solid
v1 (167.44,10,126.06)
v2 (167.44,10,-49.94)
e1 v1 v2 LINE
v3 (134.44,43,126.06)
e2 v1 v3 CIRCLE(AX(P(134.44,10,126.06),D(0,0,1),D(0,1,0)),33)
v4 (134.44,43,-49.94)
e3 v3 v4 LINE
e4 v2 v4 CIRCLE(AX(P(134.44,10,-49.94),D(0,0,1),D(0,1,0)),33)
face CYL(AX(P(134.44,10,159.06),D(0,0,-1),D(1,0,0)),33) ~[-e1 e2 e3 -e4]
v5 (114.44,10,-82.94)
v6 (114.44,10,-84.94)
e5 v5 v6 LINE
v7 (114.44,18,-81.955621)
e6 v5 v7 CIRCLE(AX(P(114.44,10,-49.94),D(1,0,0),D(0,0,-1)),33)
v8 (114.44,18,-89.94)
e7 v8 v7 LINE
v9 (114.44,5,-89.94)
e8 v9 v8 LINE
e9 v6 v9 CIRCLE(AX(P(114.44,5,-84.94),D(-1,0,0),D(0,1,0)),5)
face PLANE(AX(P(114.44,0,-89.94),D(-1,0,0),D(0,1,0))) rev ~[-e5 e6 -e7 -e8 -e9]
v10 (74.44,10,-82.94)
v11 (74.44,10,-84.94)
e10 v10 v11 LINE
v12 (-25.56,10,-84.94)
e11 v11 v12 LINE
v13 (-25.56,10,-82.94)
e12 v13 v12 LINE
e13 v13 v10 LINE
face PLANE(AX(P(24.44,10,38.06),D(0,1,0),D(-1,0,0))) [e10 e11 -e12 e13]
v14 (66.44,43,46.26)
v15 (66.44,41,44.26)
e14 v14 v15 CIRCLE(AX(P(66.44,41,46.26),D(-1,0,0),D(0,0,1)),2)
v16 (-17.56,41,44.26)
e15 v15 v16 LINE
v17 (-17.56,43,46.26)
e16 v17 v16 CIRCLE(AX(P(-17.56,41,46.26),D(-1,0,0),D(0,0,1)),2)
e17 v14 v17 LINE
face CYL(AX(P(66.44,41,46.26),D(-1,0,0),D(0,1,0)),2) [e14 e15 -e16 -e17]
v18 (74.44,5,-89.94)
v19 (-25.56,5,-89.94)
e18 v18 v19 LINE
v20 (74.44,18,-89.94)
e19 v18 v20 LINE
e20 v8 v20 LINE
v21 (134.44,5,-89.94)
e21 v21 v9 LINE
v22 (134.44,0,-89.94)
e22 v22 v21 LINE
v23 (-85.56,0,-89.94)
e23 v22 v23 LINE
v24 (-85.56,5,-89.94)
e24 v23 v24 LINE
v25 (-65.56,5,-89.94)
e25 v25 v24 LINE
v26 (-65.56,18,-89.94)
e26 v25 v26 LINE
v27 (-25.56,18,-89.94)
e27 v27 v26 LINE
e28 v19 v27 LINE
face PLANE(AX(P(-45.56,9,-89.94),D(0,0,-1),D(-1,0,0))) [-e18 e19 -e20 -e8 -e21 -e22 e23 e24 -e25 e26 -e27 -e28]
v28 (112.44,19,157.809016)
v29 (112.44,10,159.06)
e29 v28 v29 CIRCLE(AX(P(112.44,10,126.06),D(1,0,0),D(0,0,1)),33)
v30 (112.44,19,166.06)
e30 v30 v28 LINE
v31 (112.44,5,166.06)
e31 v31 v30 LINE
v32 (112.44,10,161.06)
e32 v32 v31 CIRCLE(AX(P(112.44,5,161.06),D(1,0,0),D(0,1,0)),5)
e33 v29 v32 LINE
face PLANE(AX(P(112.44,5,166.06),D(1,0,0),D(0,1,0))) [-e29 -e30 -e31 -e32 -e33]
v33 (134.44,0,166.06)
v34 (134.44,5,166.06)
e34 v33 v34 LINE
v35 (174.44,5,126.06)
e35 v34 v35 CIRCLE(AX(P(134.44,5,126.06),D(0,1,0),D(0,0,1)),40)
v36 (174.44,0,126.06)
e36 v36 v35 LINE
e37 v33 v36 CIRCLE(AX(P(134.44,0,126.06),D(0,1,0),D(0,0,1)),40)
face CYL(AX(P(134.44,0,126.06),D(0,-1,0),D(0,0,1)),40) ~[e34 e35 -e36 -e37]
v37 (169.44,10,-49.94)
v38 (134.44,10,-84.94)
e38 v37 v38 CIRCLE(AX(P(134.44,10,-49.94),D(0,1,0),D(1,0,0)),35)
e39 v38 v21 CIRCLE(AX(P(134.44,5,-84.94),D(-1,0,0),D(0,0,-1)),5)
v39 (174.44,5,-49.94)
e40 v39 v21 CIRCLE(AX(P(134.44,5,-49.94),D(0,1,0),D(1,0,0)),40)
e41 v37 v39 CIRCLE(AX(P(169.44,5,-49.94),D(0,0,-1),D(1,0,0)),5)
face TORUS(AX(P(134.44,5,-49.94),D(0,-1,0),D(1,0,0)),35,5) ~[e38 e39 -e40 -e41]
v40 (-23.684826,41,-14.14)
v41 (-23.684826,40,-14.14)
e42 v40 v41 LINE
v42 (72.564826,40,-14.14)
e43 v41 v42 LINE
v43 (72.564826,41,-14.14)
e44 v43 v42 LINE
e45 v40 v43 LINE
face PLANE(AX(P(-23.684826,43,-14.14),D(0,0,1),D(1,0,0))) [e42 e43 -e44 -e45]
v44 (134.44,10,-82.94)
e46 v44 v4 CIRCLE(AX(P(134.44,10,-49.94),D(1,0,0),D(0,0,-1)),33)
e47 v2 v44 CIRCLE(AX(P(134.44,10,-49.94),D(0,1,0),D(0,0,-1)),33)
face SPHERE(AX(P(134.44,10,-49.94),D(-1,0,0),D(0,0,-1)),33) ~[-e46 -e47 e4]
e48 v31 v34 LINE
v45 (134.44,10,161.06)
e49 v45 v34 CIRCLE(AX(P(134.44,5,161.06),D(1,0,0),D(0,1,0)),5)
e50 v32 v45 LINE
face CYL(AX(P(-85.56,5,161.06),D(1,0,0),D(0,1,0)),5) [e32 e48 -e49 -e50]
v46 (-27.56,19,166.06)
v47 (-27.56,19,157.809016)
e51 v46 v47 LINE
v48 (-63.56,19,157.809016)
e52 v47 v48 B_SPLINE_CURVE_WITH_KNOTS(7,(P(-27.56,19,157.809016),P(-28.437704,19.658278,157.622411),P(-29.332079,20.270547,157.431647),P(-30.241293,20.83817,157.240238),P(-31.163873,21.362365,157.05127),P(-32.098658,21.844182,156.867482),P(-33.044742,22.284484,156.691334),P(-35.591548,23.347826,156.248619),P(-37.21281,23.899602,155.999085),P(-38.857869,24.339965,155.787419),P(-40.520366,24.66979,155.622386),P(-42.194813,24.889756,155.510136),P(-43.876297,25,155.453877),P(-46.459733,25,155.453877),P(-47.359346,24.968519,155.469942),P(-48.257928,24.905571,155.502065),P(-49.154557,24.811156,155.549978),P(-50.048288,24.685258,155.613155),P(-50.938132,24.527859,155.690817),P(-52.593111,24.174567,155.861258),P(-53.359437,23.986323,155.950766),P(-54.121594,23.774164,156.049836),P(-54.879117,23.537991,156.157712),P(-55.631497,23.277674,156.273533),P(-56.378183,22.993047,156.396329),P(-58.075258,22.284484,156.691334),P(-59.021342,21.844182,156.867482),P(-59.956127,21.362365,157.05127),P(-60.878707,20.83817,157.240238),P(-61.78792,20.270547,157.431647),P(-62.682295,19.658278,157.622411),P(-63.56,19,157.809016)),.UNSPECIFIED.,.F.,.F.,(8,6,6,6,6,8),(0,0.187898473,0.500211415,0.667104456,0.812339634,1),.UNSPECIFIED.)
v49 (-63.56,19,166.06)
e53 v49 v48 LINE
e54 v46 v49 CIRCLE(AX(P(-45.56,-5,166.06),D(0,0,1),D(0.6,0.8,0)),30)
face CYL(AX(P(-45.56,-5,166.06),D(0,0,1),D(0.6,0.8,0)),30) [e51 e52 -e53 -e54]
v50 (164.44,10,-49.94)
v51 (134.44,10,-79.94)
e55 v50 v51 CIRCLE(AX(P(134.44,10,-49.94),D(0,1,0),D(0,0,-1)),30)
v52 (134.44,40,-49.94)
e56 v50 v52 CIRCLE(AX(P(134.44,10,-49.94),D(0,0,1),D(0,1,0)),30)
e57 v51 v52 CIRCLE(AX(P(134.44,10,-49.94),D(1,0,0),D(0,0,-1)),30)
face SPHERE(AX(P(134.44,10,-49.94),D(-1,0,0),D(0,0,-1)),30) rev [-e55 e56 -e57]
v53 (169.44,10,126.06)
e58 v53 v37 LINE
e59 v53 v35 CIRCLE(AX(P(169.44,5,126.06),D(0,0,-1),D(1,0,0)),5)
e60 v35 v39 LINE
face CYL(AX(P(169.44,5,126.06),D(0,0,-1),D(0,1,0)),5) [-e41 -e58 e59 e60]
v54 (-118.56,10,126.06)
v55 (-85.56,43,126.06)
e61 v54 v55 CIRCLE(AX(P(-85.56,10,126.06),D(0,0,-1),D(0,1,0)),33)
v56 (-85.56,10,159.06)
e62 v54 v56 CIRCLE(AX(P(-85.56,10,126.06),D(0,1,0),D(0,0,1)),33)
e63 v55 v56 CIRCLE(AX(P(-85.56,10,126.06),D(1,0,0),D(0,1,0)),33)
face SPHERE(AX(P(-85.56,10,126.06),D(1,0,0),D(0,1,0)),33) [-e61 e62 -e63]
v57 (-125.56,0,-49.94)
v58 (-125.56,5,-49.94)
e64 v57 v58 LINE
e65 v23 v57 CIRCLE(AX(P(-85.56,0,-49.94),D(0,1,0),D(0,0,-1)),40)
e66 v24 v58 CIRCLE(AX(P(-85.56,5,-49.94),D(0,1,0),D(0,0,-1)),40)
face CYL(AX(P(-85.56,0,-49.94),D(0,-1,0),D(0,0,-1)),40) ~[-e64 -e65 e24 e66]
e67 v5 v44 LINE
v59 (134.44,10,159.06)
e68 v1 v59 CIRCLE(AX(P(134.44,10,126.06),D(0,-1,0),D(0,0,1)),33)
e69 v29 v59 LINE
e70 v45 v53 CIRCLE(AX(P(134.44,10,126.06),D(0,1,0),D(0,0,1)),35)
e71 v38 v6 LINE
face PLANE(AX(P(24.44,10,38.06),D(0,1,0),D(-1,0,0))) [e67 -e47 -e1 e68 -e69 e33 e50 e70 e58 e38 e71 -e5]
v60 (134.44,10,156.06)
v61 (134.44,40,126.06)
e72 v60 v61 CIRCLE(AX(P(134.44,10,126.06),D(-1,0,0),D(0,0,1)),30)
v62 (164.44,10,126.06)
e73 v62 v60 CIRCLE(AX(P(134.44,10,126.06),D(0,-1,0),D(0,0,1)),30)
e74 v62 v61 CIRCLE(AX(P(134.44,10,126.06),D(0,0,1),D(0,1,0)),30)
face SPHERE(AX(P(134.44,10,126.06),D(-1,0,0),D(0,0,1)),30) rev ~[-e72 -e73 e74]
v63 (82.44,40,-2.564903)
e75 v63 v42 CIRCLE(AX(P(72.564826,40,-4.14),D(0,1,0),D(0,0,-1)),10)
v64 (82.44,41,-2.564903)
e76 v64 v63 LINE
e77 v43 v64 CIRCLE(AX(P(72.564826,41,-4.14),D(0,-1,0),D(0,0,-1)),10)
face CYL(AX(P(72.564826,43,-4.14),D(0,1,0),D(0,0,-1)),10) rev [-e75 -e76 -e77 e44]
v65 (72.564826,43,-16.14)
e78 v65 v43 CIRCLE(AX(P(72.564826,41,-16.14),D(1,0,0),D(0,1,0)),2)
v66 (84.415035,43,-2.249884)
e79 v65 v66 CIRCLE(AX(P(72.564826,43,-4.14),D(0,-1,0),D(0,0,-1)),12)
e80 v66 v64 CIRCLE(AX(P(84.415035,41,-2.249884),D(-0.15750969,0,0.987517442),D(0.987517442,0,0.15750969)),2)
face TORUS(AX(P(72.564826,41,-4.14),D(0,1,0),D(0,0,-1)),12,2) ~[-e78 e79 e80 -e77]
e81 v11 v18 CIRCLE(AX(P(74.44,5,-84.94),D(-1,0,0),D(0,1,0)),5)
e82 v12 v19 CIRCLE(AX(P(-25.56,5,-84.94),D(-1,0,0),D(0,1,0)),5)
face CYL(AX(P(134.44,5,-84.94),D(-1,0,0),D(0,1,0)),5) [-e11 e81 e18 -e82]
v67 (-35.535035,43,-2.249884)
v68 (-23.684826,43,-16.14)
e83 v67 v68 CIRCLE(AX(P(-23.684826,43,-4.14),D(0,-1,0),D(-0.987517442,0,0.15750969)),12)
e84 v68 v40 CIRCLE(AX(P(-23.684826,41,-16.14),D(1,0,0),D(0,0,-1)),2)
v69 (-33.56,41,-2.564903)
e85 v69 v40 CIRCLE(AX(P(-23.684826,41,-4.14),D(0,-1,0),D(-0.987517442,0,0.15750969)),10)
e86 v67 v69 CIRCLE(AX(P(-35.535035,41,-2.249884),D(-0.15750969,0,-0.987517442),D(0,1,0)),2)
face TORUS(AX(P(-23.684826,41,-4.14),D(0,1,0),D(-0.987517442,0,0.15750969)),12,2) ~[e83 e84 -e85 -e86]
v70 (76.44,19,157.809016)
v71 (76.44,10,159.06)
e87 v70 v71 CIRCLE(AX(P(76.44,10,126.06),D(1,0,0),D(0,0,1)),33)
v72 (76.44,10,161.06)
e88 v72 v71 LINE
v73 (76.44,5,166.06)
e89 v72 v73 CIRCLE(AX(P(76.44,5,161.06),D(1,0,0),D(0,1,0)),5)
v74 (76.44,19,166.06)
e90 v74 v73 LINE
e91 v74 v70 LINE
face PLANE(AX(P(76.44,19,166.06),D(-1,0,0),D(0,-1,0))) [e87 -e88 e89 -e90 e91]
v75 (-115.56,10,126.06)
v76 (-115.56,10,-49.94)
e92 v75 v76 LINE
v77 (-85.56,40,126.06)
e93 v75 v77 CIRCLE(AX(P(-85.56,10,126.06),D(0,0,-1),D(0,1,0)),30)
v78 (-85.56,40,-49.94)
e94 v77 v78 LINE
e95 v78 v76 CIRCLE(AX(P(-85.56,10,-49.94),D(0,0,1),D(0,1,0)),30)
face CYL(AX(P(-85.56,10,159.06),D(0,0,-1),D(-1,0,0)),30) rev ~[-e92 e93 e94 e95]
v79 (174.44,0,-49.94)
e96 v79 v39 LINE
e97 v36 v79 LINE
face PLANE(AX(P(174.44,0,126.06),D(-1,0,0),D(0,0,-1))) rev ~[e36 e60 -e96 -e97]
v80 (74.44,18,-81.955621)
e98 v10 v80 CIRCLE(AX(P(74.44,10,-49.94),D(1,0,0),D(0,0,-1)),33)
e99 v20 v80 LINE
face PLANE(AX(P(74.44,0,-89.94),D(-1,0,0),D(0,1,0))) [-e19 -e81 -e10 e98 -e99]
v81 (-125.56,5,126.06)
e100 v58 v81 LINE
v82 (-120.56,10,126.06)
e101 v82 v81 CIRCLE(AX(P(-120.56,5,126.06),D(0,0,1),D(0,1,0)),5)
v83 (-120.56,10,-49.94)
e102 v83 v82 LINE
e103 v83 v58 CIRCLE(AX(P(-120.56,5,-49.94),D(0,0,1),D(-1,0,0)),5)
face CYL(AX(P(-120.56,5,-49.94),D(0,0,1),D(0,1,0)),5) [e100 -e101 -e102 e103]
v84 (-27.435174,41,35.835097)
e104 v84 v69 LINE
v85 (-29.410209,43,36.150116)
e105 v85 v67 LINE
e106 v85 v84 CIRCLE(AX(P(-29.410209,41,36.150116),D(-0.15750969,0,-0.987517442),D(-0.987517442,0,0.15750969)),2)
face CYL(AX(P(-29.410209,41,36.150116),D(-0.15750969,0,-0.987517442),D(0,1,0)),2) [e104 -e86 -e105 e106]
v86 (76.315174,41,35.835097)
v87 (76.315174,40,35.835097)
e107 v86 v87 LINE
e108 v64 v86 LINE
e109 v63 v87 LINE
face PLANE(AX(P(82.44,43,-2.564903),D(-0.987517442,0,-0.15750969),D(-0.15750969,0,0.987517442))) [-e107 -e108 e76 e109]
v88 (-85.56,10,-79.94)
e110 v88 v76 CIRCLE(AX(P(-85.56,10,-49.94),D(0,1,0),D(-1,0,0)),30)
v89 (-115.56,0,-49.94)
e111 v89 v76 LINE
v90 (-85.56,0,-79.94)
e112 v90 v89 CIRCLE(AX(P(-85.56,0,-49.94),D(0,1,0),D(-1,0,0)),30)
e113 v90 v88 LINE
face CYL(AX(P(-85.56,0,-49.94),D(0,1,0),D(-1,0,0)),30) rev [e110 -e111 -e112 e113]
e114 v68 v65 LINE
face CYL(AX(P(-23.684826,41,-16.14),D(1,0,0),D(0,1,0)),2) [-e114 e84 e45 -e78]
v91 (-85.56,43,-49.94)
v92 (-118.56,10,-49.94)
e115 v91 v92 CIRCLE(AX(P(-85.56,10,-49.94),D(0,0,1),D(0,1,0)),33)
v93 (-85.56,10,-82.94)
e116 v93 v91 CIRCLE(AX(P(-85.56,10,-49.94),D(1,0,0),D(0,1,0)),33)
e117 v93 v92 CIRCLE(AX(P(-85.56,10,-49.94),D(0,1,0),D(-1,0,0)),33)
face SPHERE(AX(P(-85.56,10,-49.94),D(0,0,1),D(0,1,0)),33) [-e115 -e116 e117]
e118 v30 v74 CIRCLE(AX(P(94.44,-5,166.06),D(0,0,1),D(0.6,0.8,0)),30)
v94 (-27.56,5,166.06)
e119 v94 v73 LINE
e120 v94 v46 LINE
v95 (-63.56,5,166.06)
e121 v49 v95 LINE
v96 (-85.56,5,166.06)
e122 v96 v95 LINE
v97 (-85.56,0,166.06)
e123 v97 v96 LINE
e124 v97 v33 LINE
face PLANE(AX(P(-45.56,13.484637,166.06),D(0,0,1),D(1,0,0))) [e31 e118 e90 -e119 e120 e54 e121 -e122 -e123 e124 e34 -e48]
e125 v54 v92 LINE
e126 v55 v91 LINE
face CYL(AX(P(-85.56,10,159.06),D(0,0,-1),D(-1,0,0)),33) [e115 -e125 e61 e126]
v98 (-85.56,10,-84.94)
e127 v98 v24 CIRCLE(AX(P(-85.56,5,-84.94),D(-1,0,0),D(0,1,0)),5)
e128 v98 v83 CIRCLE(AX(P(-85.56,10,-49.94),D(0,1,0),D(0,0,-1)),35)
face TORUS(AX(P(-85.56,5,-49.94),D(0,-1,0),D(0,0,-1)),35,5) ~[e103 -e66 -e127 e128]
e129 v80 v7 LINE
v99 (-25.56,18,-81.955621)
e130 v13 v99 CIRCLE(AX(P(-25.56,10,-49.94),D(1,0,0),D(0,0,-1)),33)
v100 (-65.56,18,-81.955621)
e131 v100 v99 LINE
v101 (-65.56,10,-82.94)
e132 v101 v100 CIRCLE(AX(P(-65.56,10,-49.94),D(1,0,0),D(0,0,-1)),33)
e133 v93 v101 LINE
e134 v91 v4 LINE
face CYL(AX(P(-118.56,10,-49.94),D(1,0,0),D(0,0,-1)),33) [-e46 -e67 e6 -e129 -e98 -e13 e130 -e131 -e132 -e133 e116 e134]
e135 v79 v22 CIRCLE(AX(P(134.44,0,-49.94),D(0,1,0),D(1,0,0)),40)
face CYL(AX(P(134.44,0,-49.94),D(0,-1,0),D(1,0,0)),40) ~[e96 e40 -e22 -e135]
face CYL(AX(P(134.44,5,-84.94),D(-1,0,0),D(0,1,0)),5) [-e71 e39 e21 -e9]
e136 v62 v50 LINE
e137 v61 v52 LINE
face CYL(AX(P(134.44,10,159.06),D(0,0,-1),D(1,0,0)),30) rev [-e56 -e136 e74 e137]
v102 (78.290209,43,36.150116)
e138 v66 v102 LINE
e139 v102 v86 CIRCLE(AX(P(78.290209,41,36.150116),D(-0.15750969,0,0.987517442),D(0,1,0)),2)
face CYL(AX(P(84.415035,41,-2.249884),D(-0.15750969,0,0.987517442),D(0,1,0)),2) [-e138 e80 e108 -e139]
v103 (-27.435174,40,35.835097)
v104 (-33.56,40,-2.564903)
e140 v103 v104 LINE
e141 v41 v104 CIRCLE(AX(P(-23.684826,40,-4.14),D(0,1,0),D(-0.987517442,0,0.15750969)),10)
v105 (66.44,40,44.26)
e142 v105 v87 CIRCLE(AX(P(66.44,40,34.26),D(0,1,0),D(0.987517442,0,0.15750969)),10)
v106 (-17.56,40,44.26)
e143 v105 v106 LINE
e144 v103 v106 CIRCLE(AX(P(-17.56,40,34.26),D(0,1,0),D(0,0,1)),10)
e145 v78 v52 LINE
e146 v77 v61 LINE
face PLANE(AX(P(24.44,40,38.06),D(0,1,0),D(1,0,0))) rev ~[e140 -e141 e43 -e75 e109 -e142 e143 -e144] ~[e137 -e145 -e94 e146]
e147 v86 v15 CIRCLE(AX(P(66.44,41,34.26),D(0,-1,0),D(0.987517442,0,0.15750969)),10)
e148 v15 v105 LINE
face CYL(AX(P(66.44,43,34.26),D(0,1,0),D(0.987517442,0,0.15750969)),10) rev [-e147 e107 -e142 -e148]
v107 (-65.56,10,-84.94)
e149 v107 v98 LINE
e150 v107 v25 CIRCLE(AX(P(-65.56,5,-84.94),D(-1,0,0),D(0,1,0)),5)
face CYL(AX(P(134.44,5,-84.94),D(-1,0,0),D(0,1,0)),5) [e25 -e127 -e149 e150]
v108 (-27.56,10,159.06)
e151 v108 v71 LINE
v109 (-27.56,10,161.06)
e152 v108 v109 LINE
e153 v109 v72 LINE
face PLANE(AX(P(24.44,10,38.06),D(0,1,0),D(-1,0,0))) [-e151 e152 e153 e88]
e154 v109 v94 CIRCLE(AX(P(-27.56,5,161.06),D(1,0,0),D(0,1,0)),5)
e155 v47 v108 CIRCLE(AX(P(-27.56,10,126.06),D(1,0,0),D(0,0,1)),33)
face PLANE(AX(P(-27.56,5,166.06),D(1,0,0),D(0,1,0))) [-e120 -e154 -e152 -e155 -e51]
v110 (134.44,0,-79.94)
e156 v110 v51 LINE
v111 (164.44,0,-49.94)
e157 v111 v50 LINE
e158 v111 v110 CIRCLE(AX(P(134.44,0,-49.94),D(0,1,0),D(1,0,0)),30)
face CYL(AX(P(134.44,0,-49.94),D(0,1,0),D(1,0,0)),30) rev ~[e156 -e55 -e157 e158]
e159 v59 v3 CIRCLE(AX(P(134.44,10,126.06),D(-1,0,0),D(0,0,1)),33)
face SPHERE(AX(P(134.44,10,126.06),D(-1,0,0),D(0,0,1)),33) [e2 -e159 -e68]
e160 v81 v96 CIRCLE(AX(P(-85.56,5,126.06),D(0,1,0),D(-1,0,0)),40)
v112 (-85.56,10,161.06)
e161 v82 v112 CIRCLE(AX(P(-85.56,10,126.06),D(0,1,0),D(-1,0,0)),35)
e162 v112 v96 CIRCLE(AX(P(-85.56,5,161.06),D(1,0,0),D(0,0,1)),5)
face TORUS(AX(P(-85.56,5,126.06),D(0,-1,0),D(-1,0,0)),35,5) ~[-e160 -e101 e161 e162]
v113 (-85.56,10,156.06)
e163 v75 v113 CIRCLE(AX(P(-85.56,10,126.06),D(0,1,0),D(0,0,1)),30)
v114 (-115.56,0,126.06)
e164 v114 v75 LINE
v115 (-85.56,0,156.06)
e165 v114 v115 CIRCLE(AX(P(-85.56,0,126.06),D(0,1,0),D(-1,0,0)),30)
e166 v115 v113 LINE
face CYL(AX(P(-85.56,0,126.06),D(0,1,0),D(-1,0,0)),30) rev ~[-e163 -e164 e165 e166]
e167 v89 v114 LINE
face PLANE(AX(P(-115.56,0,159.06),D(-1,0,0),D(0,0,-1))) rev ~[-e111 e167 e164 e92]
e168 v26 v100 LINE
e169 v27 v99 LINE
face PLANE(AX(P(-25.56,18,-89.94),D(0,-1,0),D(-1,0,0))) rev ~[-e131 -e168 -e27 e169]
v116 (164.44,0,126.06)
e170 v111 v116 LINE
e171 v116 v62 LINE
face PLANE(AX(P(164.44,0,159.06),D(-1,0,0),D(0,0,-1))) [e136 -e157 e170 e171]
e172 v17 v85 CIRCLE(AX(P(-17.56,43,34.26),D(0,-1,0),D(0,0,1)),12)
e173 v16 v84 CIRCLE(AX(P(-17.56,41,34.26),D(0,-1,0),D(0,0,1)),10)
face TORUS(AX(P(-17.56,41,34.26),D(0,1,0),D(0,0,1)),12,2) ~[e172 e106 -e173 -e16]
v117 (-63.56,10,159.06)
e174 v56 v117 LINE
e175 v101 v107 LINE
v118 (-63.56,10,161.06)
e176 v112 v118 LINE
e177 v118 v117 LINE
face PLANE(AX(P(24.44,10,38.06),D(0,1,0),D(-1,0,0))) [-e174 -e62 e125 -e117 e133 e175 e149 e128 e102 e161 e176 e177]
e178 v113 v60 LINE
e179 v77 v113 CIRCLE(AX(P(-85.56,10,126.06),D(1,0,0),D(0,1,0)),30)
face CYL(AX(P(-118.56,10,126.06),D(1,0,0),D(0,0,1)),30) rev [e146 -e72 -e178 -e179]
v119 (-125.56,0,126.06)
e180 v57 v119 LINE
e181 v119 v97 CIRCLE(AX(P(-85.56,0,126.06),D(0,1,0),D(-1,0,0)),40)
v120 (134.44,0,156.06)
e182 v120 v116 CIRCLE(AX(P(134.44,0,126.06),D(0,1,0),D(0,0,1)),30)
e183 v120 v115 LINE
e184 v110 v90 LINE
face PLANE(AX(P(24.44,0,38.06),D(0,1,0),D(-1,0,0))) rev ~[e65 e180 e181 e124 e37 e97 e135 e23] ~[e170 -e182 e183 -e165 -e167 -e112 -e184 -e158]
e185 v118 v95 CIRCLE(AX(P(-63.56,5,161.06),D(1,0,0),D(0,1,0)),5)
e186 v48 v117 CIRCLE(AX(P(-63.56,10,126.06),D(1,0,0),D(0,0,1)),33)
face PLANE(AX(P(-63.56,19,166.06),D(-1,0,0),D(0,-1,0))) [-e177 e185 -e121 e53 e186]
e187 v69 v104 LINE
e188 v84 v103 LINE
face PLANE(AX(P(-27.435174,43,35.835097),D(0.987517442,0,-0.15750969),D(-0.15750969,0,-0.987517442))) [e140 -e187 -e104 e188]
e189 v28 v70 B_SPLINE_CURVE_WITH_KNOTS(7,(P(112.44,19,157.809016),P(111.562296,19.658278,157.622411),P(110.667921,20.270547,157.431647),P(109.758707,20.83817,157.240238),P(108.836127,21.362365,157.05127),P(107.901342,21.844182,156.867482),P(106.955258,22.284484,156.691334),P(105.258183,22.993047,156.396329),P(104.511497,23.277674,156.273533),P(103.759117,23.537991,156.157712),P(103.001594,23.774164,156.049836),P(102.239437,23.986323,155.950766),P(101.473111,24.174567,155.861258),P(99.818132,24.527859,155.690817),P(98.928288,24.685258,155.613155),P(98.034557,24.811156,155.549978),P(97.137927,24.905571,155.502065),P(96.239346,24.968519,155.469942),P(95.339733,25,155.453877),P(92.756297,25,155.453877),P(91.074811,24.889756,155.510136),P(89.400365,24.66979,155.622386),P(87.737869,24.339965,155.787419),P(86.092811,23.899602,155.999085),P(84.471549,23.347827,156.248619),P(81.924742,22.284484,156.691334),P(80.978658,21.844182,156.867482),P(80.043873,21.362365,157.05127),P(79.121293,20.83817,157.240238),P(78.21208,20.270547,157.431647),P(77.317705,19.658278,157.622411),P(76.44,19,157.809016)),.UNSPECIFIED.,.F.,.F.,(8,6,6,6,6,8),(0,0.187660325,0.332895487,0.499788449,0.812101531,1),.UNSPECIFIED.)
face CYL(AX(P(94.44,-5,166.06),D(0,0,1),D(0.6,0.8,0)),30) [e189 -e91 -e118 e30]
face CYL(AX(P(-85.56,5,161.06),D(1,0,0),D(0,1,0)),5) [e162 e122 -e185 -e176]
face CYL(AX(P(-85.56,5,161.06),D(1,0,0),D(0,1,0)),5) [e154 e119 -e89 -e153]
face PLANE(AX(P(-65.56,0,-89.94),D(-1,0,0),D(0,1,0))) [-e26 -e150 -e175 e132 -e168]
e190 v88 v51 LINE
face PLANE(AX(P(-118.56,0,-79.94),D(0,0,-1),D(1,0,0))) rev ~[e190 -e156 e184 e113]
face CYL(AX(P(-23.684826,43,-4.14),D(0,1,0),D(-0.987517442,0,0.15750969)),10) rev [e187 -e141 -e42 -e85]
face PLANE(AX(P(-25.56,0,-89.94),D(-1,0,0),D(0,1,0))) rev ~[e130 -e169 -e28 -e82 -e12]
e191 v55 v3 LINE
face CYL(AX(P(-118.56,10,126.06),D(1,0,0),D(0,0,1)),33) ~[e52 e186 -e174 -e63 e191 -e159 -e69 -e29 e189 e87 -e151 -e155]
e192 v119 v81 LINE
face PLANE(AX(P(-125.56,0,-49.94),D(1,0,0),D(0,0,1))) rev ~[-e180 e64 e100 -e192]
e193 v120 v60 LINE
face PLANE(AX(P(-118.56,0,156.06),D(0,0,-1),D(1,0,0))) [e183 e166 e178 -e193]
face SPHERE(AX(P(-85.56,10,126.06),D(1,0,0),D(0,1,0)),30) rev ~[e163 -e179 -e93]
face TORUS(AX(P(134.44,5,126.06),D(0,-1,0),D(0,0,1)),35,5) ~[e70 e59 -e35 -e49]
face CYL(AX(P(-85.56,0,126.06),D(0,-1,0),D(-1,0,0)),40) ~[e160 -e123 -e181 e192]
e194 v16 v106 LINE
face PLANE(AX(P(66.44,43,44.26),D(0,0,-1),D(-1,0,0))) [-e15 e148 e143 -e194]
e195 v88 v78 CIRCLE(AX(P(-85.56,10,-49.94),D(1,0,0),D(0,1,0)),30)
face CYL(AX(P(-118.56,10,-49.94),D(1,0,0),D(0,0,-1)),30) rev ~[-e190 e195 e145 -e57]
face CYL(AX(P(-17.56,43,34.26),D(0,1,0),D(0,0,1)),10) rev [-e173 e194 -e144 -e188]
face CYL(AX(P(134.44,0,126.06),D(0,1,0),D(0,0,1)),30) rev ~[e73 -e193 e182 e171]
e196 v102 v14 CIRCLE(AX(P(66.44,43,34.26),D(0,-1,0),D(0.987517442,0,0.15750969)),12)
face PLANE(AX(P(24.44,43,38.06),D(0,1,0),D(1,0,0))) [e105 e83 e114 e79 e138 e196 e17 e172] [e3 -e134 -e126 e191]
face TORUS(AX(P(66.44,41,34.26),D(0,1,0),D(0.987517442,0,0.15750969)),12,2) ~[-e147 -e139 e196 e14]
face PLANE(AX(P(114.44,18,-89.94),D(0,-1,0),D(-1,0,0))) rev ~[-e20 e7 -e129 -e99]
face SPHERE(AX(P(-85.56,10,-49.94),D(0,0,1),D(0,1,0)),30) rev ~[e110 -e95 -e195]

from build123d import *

# Parameters (mm, degrees)
SKETCH1_W           = 286
SKETCH1_H           = 242
BOSS_EXTRUDE1_DEPTH = 43
FILLET1_R           = 33
SHELL1_T            = -3
BOSS_EXTRUDE2_DEPTH = 10
FILLET2_R           = 5
CUT_EXTRUDE2_DEPTH  = 245.651256349
FILLET3_R           = 2
BOSS_EXTRUDE3_REACH = 314.753
SKETCH5_W           = 40
SKETCH5_H           = 18
BOSS_EXTRUDE4_REACH = 314.753


with BuildPart() as part:
    # Sketch1 → Boss-Extrude1 (new body)
    with BuildSketch(Plane(origin=(0, 0, 0), x_dir=(1, 0, 0), z_dir=(0, 1, 0))):
        with Locations((24.44, -38.06)):
            Rectangle(SKETCH1_W, SKETCH1_H)
    extrude(amount=BOSS_EXTRUDE1_DEPTH)

    # Fillet1
    fillet1_edges = [part.edges().sort_by_distance(p)[0] for p in [
        (24.44, 43, 159.06),
        (-118.56, 43, 38.06),
        (24.44, 43, -82.94),
        (-118.56, 21.5, -82.94),
        (-118.56, 21.5, 159.06),
        (167.44, 21.5, 159.06),
        (167.44, 21.5, -82.94),
        (167.44, 43, 38.06),
    ]]
    fillet(fillet1_edges, radius=FILLET1_R)

    # Shell1
    shell1_openings = [part.faces().sort_by_distance(p)[0] for p in [
        (24.44, 0, 38.06),
    ]]
    offset(amount=SHELL1_T, openings=shell1_openings, kind=Kind.INTERSECTION)

    # Sketch2 → Boss-Extrude2 (add)
    with BuildSketch(Plane.XZ):
        with BuildLine():
            Line((-85.56, 166.06), (134.44, 166.06))
            ThreePointArc((134.44, 166.06), (162.724271247, 154.344271247), (174.44, 126.06))
            Line((174.44, 126.06), (174.44, -49.94))
            ThreePointArc((174.44, -49.94), (162.724271247, -78.224271247), (134.44, -89.94))
            Line((134.44, -89.94), (-85.56, -89.94))
            ThreePointArc((-85.56, -89.94), (-113.844271247, -78.224271247), (-125.56, -49.94))
            Line((-125.56, -49.94), (-125.56, 126.06))
            ThreePointArc((-125.56, 126.06), (-113.844271247, 154.344271247), (-85.56, 166.06))
        make_face()
        with BuildLine():
            Line((-85.56, 159.06), (134.44, 159.06))
            ThreePointArc((134.44, 159.06), (157.774523779, 149.394523779), (167.44, 126.06))
            Line((167.44, 126.06), (167.44, -49.94))
            ThreePointArc((167.44, -49.94), (157.774523779, -73.274523779), (134.44, -82.94))
            Line((134.44, -82.94), (-85.56, -82.94))
            ThreePointArc((-85.56, -82.94), (-108.894523779, -73.274523779), (-118.56, -49.94))
            Line((-118.56, -49.94), (-118.56, 126.06))
            ThreePointArc((-118.56, 126.06), (-108.894523779, 149.394523779), (-85.56, 159.06))
        make_face(mode=Mode.SUBTRACT)
    extrude(amount=-BOSS_EXTRUDE2_DEPTH)

    # Fillet2
    fillet2_edges = [part.edges().sort_by_distance(p)[0] for p in [
        (162.724271247, 10, -78.224271247),
        (24.44, 10, -89.94),
        (-113.844271247, 10, -78.224271247),
        (-125.56, 10, 38.06),
        (-113.844271247, 10, 154.344271247),
        (24.44, 10, 166.06),
        (162.724271247, 10, 154.344271247),
        (174.44, 10, 38.06),
    ]]
    fillet(fillet2_edges, radius=FILLET2_R)

    # Sketch4 → Cut-Extrude2 (cut, through all)
    with BuildSketch(Plane(origin=(0, 43, 0), x_dir=(1, 0, 0), z_dir=(0, 1, 0))):
        with BuildLine():
            Line((-23.684825583, 14.14), (72.564825583, 14.14))
            ThreePointArc((72.564825583, 14.14), (80.172419453, 10.630340169), (82.44, 2.564903101))
            Line((82.44, 2.564903101), (76.315174417, -35.835096899))
            ThreePointArc((76.315174417, -35.835096899), (72.930340169, -41.86759387), (66.44, -44.26))
            Line((66.44, -44.26), (-17.56, -44.26))
            ThreePointArc((-17.56, -44.26), (-24.050340169, -41.86759387), (-27.435174417, -35.835096899))
            Line((-27.435174417, -35.835096899), (-33.56, 2.564903101))
            ThreePointArc((-33.56, 2.564903101), (-31.292419453, 10.630340169), (-23.684825583, 14.14))
        make_face()
    extrude(amount=-CUT_EXTRUDE2_DEPTH, mode=Mode.SUBTRACT)

    # Fillet3
    fillet3_edges = [part.edges().sort_by_distance(p)[0] for p in [
        (-24.050340169, 43, 41.86759387),
        (24.44, 43, 44.26),
        (72.930340169, 43, 41.86759387),
        (79.377587208, 43, 16.635096899),
        (80.172419453, 43, -10.630340169),
        (24.44, 43, -14.14),
        (-31.292419453, 43, -10.630340169),
        (-30.497587208, 43, 16.635096899),
    ]]
    fillet(fillet3_edges, radius=FILLET3_R)

    # Sketch5 → Boss-Extrude3 (add, up to next)
    with BuildSketch(Plane(origin=(0, 0, -89.94), x_dir=(-1, 0, 0), z_dir=(0, 0, -1)), mode=Mode.PRIVATE) as boss_extrude3_sk1:
        with Locations((-94.44, 9)):
            Rectangle(SKETCH5_W, SKETCH5_H)
    boss_extrude3_tool1 = extrude(boss_extrude3_sk1.sketch, amount=-BOSS_EXTRUDE3_REACH, mode=Mode.PRIVATE) - part.part
    # Sketch5 → Boss-Extrude3 (add, up to next)
    with BuildSketch(Plane(origin=(0, 0, -89.94), x_dir=(-1, 0, 0), z_dir=(0, 0, -1)), mode=Mode.PRIVATE) as boss_extrude3_sk2:
        with Locations((45.56, 9)):
            Rectangle(SKETCH5_W, SKETCH5_H)
    boss_extrude3_tool2 = extrude(boss_extrude3_sk2.sketch, amount=-BOSS_EXTRUDE3_REACH, mode=Mode.PRIVATE) - part.part
    add(boss_extrude3_tool1.solids().sort_by_distance((94.44, 9, -89.94))[0])
    add(boss_extrude3_tool2.solids().sort_by_distance((-45.56, 9, -89.94))[0])

    # Sketch6 → Boss-Extrude4 (add, up to next)
    with BuildSketch(Plane.XY.offset(166.06), mode=Mode.PRIVATE) as boss_extrude4_sk1:
        with BuildLine():
            Line((-63.56, 5), (-27.56, 5))
            Line((-27.56, 5), (-27.56, 19))
            ThreePointArc((-27.56, 19), (-45.56, 25), (-63.56, 19))
            Line((-63.56, 19), (-63.56, 5))
        make_face()
    boss_extrude4_tool1 = extrude(boss_extrude4_sk1.sketch, amount=-BOSS_EXTRUDE4_REACH, mode=Mode.PRIVATE) - part.part
    # Sketch6 → Boss-Extrude4 (add, up to next)
    with BuildSketch(Plane.XY.offset(166.06), mode=Mode.PRIVATE) as boss_extrude4_sk2:
        with BuildLine():
            ThreePointArc((112.44, 19), (94.44, 25), (76.44, 19))
            Line((76.44, 19), (76.44, 5))
            Line((76.44, 5), (112.44, 5))
            Line((112.44, 5), (112.44, 19))
        make_face()
    boss_extrude4_tool2 = extrude(boss_extrude4_sk2.sketch, amount=-BOSS_EXTRUDE4_REACH, mode=Mode.PRIVATE) - part.part
    add(boss_extrude4_tool1.solids().sort_by_distance((-45.56, 14.129204, 166.06))[0])
    add(boss_extrude4_tool2.solids().sort_by_distance((94.44, 14.129204, 166.06))[0])


solid = part.part
